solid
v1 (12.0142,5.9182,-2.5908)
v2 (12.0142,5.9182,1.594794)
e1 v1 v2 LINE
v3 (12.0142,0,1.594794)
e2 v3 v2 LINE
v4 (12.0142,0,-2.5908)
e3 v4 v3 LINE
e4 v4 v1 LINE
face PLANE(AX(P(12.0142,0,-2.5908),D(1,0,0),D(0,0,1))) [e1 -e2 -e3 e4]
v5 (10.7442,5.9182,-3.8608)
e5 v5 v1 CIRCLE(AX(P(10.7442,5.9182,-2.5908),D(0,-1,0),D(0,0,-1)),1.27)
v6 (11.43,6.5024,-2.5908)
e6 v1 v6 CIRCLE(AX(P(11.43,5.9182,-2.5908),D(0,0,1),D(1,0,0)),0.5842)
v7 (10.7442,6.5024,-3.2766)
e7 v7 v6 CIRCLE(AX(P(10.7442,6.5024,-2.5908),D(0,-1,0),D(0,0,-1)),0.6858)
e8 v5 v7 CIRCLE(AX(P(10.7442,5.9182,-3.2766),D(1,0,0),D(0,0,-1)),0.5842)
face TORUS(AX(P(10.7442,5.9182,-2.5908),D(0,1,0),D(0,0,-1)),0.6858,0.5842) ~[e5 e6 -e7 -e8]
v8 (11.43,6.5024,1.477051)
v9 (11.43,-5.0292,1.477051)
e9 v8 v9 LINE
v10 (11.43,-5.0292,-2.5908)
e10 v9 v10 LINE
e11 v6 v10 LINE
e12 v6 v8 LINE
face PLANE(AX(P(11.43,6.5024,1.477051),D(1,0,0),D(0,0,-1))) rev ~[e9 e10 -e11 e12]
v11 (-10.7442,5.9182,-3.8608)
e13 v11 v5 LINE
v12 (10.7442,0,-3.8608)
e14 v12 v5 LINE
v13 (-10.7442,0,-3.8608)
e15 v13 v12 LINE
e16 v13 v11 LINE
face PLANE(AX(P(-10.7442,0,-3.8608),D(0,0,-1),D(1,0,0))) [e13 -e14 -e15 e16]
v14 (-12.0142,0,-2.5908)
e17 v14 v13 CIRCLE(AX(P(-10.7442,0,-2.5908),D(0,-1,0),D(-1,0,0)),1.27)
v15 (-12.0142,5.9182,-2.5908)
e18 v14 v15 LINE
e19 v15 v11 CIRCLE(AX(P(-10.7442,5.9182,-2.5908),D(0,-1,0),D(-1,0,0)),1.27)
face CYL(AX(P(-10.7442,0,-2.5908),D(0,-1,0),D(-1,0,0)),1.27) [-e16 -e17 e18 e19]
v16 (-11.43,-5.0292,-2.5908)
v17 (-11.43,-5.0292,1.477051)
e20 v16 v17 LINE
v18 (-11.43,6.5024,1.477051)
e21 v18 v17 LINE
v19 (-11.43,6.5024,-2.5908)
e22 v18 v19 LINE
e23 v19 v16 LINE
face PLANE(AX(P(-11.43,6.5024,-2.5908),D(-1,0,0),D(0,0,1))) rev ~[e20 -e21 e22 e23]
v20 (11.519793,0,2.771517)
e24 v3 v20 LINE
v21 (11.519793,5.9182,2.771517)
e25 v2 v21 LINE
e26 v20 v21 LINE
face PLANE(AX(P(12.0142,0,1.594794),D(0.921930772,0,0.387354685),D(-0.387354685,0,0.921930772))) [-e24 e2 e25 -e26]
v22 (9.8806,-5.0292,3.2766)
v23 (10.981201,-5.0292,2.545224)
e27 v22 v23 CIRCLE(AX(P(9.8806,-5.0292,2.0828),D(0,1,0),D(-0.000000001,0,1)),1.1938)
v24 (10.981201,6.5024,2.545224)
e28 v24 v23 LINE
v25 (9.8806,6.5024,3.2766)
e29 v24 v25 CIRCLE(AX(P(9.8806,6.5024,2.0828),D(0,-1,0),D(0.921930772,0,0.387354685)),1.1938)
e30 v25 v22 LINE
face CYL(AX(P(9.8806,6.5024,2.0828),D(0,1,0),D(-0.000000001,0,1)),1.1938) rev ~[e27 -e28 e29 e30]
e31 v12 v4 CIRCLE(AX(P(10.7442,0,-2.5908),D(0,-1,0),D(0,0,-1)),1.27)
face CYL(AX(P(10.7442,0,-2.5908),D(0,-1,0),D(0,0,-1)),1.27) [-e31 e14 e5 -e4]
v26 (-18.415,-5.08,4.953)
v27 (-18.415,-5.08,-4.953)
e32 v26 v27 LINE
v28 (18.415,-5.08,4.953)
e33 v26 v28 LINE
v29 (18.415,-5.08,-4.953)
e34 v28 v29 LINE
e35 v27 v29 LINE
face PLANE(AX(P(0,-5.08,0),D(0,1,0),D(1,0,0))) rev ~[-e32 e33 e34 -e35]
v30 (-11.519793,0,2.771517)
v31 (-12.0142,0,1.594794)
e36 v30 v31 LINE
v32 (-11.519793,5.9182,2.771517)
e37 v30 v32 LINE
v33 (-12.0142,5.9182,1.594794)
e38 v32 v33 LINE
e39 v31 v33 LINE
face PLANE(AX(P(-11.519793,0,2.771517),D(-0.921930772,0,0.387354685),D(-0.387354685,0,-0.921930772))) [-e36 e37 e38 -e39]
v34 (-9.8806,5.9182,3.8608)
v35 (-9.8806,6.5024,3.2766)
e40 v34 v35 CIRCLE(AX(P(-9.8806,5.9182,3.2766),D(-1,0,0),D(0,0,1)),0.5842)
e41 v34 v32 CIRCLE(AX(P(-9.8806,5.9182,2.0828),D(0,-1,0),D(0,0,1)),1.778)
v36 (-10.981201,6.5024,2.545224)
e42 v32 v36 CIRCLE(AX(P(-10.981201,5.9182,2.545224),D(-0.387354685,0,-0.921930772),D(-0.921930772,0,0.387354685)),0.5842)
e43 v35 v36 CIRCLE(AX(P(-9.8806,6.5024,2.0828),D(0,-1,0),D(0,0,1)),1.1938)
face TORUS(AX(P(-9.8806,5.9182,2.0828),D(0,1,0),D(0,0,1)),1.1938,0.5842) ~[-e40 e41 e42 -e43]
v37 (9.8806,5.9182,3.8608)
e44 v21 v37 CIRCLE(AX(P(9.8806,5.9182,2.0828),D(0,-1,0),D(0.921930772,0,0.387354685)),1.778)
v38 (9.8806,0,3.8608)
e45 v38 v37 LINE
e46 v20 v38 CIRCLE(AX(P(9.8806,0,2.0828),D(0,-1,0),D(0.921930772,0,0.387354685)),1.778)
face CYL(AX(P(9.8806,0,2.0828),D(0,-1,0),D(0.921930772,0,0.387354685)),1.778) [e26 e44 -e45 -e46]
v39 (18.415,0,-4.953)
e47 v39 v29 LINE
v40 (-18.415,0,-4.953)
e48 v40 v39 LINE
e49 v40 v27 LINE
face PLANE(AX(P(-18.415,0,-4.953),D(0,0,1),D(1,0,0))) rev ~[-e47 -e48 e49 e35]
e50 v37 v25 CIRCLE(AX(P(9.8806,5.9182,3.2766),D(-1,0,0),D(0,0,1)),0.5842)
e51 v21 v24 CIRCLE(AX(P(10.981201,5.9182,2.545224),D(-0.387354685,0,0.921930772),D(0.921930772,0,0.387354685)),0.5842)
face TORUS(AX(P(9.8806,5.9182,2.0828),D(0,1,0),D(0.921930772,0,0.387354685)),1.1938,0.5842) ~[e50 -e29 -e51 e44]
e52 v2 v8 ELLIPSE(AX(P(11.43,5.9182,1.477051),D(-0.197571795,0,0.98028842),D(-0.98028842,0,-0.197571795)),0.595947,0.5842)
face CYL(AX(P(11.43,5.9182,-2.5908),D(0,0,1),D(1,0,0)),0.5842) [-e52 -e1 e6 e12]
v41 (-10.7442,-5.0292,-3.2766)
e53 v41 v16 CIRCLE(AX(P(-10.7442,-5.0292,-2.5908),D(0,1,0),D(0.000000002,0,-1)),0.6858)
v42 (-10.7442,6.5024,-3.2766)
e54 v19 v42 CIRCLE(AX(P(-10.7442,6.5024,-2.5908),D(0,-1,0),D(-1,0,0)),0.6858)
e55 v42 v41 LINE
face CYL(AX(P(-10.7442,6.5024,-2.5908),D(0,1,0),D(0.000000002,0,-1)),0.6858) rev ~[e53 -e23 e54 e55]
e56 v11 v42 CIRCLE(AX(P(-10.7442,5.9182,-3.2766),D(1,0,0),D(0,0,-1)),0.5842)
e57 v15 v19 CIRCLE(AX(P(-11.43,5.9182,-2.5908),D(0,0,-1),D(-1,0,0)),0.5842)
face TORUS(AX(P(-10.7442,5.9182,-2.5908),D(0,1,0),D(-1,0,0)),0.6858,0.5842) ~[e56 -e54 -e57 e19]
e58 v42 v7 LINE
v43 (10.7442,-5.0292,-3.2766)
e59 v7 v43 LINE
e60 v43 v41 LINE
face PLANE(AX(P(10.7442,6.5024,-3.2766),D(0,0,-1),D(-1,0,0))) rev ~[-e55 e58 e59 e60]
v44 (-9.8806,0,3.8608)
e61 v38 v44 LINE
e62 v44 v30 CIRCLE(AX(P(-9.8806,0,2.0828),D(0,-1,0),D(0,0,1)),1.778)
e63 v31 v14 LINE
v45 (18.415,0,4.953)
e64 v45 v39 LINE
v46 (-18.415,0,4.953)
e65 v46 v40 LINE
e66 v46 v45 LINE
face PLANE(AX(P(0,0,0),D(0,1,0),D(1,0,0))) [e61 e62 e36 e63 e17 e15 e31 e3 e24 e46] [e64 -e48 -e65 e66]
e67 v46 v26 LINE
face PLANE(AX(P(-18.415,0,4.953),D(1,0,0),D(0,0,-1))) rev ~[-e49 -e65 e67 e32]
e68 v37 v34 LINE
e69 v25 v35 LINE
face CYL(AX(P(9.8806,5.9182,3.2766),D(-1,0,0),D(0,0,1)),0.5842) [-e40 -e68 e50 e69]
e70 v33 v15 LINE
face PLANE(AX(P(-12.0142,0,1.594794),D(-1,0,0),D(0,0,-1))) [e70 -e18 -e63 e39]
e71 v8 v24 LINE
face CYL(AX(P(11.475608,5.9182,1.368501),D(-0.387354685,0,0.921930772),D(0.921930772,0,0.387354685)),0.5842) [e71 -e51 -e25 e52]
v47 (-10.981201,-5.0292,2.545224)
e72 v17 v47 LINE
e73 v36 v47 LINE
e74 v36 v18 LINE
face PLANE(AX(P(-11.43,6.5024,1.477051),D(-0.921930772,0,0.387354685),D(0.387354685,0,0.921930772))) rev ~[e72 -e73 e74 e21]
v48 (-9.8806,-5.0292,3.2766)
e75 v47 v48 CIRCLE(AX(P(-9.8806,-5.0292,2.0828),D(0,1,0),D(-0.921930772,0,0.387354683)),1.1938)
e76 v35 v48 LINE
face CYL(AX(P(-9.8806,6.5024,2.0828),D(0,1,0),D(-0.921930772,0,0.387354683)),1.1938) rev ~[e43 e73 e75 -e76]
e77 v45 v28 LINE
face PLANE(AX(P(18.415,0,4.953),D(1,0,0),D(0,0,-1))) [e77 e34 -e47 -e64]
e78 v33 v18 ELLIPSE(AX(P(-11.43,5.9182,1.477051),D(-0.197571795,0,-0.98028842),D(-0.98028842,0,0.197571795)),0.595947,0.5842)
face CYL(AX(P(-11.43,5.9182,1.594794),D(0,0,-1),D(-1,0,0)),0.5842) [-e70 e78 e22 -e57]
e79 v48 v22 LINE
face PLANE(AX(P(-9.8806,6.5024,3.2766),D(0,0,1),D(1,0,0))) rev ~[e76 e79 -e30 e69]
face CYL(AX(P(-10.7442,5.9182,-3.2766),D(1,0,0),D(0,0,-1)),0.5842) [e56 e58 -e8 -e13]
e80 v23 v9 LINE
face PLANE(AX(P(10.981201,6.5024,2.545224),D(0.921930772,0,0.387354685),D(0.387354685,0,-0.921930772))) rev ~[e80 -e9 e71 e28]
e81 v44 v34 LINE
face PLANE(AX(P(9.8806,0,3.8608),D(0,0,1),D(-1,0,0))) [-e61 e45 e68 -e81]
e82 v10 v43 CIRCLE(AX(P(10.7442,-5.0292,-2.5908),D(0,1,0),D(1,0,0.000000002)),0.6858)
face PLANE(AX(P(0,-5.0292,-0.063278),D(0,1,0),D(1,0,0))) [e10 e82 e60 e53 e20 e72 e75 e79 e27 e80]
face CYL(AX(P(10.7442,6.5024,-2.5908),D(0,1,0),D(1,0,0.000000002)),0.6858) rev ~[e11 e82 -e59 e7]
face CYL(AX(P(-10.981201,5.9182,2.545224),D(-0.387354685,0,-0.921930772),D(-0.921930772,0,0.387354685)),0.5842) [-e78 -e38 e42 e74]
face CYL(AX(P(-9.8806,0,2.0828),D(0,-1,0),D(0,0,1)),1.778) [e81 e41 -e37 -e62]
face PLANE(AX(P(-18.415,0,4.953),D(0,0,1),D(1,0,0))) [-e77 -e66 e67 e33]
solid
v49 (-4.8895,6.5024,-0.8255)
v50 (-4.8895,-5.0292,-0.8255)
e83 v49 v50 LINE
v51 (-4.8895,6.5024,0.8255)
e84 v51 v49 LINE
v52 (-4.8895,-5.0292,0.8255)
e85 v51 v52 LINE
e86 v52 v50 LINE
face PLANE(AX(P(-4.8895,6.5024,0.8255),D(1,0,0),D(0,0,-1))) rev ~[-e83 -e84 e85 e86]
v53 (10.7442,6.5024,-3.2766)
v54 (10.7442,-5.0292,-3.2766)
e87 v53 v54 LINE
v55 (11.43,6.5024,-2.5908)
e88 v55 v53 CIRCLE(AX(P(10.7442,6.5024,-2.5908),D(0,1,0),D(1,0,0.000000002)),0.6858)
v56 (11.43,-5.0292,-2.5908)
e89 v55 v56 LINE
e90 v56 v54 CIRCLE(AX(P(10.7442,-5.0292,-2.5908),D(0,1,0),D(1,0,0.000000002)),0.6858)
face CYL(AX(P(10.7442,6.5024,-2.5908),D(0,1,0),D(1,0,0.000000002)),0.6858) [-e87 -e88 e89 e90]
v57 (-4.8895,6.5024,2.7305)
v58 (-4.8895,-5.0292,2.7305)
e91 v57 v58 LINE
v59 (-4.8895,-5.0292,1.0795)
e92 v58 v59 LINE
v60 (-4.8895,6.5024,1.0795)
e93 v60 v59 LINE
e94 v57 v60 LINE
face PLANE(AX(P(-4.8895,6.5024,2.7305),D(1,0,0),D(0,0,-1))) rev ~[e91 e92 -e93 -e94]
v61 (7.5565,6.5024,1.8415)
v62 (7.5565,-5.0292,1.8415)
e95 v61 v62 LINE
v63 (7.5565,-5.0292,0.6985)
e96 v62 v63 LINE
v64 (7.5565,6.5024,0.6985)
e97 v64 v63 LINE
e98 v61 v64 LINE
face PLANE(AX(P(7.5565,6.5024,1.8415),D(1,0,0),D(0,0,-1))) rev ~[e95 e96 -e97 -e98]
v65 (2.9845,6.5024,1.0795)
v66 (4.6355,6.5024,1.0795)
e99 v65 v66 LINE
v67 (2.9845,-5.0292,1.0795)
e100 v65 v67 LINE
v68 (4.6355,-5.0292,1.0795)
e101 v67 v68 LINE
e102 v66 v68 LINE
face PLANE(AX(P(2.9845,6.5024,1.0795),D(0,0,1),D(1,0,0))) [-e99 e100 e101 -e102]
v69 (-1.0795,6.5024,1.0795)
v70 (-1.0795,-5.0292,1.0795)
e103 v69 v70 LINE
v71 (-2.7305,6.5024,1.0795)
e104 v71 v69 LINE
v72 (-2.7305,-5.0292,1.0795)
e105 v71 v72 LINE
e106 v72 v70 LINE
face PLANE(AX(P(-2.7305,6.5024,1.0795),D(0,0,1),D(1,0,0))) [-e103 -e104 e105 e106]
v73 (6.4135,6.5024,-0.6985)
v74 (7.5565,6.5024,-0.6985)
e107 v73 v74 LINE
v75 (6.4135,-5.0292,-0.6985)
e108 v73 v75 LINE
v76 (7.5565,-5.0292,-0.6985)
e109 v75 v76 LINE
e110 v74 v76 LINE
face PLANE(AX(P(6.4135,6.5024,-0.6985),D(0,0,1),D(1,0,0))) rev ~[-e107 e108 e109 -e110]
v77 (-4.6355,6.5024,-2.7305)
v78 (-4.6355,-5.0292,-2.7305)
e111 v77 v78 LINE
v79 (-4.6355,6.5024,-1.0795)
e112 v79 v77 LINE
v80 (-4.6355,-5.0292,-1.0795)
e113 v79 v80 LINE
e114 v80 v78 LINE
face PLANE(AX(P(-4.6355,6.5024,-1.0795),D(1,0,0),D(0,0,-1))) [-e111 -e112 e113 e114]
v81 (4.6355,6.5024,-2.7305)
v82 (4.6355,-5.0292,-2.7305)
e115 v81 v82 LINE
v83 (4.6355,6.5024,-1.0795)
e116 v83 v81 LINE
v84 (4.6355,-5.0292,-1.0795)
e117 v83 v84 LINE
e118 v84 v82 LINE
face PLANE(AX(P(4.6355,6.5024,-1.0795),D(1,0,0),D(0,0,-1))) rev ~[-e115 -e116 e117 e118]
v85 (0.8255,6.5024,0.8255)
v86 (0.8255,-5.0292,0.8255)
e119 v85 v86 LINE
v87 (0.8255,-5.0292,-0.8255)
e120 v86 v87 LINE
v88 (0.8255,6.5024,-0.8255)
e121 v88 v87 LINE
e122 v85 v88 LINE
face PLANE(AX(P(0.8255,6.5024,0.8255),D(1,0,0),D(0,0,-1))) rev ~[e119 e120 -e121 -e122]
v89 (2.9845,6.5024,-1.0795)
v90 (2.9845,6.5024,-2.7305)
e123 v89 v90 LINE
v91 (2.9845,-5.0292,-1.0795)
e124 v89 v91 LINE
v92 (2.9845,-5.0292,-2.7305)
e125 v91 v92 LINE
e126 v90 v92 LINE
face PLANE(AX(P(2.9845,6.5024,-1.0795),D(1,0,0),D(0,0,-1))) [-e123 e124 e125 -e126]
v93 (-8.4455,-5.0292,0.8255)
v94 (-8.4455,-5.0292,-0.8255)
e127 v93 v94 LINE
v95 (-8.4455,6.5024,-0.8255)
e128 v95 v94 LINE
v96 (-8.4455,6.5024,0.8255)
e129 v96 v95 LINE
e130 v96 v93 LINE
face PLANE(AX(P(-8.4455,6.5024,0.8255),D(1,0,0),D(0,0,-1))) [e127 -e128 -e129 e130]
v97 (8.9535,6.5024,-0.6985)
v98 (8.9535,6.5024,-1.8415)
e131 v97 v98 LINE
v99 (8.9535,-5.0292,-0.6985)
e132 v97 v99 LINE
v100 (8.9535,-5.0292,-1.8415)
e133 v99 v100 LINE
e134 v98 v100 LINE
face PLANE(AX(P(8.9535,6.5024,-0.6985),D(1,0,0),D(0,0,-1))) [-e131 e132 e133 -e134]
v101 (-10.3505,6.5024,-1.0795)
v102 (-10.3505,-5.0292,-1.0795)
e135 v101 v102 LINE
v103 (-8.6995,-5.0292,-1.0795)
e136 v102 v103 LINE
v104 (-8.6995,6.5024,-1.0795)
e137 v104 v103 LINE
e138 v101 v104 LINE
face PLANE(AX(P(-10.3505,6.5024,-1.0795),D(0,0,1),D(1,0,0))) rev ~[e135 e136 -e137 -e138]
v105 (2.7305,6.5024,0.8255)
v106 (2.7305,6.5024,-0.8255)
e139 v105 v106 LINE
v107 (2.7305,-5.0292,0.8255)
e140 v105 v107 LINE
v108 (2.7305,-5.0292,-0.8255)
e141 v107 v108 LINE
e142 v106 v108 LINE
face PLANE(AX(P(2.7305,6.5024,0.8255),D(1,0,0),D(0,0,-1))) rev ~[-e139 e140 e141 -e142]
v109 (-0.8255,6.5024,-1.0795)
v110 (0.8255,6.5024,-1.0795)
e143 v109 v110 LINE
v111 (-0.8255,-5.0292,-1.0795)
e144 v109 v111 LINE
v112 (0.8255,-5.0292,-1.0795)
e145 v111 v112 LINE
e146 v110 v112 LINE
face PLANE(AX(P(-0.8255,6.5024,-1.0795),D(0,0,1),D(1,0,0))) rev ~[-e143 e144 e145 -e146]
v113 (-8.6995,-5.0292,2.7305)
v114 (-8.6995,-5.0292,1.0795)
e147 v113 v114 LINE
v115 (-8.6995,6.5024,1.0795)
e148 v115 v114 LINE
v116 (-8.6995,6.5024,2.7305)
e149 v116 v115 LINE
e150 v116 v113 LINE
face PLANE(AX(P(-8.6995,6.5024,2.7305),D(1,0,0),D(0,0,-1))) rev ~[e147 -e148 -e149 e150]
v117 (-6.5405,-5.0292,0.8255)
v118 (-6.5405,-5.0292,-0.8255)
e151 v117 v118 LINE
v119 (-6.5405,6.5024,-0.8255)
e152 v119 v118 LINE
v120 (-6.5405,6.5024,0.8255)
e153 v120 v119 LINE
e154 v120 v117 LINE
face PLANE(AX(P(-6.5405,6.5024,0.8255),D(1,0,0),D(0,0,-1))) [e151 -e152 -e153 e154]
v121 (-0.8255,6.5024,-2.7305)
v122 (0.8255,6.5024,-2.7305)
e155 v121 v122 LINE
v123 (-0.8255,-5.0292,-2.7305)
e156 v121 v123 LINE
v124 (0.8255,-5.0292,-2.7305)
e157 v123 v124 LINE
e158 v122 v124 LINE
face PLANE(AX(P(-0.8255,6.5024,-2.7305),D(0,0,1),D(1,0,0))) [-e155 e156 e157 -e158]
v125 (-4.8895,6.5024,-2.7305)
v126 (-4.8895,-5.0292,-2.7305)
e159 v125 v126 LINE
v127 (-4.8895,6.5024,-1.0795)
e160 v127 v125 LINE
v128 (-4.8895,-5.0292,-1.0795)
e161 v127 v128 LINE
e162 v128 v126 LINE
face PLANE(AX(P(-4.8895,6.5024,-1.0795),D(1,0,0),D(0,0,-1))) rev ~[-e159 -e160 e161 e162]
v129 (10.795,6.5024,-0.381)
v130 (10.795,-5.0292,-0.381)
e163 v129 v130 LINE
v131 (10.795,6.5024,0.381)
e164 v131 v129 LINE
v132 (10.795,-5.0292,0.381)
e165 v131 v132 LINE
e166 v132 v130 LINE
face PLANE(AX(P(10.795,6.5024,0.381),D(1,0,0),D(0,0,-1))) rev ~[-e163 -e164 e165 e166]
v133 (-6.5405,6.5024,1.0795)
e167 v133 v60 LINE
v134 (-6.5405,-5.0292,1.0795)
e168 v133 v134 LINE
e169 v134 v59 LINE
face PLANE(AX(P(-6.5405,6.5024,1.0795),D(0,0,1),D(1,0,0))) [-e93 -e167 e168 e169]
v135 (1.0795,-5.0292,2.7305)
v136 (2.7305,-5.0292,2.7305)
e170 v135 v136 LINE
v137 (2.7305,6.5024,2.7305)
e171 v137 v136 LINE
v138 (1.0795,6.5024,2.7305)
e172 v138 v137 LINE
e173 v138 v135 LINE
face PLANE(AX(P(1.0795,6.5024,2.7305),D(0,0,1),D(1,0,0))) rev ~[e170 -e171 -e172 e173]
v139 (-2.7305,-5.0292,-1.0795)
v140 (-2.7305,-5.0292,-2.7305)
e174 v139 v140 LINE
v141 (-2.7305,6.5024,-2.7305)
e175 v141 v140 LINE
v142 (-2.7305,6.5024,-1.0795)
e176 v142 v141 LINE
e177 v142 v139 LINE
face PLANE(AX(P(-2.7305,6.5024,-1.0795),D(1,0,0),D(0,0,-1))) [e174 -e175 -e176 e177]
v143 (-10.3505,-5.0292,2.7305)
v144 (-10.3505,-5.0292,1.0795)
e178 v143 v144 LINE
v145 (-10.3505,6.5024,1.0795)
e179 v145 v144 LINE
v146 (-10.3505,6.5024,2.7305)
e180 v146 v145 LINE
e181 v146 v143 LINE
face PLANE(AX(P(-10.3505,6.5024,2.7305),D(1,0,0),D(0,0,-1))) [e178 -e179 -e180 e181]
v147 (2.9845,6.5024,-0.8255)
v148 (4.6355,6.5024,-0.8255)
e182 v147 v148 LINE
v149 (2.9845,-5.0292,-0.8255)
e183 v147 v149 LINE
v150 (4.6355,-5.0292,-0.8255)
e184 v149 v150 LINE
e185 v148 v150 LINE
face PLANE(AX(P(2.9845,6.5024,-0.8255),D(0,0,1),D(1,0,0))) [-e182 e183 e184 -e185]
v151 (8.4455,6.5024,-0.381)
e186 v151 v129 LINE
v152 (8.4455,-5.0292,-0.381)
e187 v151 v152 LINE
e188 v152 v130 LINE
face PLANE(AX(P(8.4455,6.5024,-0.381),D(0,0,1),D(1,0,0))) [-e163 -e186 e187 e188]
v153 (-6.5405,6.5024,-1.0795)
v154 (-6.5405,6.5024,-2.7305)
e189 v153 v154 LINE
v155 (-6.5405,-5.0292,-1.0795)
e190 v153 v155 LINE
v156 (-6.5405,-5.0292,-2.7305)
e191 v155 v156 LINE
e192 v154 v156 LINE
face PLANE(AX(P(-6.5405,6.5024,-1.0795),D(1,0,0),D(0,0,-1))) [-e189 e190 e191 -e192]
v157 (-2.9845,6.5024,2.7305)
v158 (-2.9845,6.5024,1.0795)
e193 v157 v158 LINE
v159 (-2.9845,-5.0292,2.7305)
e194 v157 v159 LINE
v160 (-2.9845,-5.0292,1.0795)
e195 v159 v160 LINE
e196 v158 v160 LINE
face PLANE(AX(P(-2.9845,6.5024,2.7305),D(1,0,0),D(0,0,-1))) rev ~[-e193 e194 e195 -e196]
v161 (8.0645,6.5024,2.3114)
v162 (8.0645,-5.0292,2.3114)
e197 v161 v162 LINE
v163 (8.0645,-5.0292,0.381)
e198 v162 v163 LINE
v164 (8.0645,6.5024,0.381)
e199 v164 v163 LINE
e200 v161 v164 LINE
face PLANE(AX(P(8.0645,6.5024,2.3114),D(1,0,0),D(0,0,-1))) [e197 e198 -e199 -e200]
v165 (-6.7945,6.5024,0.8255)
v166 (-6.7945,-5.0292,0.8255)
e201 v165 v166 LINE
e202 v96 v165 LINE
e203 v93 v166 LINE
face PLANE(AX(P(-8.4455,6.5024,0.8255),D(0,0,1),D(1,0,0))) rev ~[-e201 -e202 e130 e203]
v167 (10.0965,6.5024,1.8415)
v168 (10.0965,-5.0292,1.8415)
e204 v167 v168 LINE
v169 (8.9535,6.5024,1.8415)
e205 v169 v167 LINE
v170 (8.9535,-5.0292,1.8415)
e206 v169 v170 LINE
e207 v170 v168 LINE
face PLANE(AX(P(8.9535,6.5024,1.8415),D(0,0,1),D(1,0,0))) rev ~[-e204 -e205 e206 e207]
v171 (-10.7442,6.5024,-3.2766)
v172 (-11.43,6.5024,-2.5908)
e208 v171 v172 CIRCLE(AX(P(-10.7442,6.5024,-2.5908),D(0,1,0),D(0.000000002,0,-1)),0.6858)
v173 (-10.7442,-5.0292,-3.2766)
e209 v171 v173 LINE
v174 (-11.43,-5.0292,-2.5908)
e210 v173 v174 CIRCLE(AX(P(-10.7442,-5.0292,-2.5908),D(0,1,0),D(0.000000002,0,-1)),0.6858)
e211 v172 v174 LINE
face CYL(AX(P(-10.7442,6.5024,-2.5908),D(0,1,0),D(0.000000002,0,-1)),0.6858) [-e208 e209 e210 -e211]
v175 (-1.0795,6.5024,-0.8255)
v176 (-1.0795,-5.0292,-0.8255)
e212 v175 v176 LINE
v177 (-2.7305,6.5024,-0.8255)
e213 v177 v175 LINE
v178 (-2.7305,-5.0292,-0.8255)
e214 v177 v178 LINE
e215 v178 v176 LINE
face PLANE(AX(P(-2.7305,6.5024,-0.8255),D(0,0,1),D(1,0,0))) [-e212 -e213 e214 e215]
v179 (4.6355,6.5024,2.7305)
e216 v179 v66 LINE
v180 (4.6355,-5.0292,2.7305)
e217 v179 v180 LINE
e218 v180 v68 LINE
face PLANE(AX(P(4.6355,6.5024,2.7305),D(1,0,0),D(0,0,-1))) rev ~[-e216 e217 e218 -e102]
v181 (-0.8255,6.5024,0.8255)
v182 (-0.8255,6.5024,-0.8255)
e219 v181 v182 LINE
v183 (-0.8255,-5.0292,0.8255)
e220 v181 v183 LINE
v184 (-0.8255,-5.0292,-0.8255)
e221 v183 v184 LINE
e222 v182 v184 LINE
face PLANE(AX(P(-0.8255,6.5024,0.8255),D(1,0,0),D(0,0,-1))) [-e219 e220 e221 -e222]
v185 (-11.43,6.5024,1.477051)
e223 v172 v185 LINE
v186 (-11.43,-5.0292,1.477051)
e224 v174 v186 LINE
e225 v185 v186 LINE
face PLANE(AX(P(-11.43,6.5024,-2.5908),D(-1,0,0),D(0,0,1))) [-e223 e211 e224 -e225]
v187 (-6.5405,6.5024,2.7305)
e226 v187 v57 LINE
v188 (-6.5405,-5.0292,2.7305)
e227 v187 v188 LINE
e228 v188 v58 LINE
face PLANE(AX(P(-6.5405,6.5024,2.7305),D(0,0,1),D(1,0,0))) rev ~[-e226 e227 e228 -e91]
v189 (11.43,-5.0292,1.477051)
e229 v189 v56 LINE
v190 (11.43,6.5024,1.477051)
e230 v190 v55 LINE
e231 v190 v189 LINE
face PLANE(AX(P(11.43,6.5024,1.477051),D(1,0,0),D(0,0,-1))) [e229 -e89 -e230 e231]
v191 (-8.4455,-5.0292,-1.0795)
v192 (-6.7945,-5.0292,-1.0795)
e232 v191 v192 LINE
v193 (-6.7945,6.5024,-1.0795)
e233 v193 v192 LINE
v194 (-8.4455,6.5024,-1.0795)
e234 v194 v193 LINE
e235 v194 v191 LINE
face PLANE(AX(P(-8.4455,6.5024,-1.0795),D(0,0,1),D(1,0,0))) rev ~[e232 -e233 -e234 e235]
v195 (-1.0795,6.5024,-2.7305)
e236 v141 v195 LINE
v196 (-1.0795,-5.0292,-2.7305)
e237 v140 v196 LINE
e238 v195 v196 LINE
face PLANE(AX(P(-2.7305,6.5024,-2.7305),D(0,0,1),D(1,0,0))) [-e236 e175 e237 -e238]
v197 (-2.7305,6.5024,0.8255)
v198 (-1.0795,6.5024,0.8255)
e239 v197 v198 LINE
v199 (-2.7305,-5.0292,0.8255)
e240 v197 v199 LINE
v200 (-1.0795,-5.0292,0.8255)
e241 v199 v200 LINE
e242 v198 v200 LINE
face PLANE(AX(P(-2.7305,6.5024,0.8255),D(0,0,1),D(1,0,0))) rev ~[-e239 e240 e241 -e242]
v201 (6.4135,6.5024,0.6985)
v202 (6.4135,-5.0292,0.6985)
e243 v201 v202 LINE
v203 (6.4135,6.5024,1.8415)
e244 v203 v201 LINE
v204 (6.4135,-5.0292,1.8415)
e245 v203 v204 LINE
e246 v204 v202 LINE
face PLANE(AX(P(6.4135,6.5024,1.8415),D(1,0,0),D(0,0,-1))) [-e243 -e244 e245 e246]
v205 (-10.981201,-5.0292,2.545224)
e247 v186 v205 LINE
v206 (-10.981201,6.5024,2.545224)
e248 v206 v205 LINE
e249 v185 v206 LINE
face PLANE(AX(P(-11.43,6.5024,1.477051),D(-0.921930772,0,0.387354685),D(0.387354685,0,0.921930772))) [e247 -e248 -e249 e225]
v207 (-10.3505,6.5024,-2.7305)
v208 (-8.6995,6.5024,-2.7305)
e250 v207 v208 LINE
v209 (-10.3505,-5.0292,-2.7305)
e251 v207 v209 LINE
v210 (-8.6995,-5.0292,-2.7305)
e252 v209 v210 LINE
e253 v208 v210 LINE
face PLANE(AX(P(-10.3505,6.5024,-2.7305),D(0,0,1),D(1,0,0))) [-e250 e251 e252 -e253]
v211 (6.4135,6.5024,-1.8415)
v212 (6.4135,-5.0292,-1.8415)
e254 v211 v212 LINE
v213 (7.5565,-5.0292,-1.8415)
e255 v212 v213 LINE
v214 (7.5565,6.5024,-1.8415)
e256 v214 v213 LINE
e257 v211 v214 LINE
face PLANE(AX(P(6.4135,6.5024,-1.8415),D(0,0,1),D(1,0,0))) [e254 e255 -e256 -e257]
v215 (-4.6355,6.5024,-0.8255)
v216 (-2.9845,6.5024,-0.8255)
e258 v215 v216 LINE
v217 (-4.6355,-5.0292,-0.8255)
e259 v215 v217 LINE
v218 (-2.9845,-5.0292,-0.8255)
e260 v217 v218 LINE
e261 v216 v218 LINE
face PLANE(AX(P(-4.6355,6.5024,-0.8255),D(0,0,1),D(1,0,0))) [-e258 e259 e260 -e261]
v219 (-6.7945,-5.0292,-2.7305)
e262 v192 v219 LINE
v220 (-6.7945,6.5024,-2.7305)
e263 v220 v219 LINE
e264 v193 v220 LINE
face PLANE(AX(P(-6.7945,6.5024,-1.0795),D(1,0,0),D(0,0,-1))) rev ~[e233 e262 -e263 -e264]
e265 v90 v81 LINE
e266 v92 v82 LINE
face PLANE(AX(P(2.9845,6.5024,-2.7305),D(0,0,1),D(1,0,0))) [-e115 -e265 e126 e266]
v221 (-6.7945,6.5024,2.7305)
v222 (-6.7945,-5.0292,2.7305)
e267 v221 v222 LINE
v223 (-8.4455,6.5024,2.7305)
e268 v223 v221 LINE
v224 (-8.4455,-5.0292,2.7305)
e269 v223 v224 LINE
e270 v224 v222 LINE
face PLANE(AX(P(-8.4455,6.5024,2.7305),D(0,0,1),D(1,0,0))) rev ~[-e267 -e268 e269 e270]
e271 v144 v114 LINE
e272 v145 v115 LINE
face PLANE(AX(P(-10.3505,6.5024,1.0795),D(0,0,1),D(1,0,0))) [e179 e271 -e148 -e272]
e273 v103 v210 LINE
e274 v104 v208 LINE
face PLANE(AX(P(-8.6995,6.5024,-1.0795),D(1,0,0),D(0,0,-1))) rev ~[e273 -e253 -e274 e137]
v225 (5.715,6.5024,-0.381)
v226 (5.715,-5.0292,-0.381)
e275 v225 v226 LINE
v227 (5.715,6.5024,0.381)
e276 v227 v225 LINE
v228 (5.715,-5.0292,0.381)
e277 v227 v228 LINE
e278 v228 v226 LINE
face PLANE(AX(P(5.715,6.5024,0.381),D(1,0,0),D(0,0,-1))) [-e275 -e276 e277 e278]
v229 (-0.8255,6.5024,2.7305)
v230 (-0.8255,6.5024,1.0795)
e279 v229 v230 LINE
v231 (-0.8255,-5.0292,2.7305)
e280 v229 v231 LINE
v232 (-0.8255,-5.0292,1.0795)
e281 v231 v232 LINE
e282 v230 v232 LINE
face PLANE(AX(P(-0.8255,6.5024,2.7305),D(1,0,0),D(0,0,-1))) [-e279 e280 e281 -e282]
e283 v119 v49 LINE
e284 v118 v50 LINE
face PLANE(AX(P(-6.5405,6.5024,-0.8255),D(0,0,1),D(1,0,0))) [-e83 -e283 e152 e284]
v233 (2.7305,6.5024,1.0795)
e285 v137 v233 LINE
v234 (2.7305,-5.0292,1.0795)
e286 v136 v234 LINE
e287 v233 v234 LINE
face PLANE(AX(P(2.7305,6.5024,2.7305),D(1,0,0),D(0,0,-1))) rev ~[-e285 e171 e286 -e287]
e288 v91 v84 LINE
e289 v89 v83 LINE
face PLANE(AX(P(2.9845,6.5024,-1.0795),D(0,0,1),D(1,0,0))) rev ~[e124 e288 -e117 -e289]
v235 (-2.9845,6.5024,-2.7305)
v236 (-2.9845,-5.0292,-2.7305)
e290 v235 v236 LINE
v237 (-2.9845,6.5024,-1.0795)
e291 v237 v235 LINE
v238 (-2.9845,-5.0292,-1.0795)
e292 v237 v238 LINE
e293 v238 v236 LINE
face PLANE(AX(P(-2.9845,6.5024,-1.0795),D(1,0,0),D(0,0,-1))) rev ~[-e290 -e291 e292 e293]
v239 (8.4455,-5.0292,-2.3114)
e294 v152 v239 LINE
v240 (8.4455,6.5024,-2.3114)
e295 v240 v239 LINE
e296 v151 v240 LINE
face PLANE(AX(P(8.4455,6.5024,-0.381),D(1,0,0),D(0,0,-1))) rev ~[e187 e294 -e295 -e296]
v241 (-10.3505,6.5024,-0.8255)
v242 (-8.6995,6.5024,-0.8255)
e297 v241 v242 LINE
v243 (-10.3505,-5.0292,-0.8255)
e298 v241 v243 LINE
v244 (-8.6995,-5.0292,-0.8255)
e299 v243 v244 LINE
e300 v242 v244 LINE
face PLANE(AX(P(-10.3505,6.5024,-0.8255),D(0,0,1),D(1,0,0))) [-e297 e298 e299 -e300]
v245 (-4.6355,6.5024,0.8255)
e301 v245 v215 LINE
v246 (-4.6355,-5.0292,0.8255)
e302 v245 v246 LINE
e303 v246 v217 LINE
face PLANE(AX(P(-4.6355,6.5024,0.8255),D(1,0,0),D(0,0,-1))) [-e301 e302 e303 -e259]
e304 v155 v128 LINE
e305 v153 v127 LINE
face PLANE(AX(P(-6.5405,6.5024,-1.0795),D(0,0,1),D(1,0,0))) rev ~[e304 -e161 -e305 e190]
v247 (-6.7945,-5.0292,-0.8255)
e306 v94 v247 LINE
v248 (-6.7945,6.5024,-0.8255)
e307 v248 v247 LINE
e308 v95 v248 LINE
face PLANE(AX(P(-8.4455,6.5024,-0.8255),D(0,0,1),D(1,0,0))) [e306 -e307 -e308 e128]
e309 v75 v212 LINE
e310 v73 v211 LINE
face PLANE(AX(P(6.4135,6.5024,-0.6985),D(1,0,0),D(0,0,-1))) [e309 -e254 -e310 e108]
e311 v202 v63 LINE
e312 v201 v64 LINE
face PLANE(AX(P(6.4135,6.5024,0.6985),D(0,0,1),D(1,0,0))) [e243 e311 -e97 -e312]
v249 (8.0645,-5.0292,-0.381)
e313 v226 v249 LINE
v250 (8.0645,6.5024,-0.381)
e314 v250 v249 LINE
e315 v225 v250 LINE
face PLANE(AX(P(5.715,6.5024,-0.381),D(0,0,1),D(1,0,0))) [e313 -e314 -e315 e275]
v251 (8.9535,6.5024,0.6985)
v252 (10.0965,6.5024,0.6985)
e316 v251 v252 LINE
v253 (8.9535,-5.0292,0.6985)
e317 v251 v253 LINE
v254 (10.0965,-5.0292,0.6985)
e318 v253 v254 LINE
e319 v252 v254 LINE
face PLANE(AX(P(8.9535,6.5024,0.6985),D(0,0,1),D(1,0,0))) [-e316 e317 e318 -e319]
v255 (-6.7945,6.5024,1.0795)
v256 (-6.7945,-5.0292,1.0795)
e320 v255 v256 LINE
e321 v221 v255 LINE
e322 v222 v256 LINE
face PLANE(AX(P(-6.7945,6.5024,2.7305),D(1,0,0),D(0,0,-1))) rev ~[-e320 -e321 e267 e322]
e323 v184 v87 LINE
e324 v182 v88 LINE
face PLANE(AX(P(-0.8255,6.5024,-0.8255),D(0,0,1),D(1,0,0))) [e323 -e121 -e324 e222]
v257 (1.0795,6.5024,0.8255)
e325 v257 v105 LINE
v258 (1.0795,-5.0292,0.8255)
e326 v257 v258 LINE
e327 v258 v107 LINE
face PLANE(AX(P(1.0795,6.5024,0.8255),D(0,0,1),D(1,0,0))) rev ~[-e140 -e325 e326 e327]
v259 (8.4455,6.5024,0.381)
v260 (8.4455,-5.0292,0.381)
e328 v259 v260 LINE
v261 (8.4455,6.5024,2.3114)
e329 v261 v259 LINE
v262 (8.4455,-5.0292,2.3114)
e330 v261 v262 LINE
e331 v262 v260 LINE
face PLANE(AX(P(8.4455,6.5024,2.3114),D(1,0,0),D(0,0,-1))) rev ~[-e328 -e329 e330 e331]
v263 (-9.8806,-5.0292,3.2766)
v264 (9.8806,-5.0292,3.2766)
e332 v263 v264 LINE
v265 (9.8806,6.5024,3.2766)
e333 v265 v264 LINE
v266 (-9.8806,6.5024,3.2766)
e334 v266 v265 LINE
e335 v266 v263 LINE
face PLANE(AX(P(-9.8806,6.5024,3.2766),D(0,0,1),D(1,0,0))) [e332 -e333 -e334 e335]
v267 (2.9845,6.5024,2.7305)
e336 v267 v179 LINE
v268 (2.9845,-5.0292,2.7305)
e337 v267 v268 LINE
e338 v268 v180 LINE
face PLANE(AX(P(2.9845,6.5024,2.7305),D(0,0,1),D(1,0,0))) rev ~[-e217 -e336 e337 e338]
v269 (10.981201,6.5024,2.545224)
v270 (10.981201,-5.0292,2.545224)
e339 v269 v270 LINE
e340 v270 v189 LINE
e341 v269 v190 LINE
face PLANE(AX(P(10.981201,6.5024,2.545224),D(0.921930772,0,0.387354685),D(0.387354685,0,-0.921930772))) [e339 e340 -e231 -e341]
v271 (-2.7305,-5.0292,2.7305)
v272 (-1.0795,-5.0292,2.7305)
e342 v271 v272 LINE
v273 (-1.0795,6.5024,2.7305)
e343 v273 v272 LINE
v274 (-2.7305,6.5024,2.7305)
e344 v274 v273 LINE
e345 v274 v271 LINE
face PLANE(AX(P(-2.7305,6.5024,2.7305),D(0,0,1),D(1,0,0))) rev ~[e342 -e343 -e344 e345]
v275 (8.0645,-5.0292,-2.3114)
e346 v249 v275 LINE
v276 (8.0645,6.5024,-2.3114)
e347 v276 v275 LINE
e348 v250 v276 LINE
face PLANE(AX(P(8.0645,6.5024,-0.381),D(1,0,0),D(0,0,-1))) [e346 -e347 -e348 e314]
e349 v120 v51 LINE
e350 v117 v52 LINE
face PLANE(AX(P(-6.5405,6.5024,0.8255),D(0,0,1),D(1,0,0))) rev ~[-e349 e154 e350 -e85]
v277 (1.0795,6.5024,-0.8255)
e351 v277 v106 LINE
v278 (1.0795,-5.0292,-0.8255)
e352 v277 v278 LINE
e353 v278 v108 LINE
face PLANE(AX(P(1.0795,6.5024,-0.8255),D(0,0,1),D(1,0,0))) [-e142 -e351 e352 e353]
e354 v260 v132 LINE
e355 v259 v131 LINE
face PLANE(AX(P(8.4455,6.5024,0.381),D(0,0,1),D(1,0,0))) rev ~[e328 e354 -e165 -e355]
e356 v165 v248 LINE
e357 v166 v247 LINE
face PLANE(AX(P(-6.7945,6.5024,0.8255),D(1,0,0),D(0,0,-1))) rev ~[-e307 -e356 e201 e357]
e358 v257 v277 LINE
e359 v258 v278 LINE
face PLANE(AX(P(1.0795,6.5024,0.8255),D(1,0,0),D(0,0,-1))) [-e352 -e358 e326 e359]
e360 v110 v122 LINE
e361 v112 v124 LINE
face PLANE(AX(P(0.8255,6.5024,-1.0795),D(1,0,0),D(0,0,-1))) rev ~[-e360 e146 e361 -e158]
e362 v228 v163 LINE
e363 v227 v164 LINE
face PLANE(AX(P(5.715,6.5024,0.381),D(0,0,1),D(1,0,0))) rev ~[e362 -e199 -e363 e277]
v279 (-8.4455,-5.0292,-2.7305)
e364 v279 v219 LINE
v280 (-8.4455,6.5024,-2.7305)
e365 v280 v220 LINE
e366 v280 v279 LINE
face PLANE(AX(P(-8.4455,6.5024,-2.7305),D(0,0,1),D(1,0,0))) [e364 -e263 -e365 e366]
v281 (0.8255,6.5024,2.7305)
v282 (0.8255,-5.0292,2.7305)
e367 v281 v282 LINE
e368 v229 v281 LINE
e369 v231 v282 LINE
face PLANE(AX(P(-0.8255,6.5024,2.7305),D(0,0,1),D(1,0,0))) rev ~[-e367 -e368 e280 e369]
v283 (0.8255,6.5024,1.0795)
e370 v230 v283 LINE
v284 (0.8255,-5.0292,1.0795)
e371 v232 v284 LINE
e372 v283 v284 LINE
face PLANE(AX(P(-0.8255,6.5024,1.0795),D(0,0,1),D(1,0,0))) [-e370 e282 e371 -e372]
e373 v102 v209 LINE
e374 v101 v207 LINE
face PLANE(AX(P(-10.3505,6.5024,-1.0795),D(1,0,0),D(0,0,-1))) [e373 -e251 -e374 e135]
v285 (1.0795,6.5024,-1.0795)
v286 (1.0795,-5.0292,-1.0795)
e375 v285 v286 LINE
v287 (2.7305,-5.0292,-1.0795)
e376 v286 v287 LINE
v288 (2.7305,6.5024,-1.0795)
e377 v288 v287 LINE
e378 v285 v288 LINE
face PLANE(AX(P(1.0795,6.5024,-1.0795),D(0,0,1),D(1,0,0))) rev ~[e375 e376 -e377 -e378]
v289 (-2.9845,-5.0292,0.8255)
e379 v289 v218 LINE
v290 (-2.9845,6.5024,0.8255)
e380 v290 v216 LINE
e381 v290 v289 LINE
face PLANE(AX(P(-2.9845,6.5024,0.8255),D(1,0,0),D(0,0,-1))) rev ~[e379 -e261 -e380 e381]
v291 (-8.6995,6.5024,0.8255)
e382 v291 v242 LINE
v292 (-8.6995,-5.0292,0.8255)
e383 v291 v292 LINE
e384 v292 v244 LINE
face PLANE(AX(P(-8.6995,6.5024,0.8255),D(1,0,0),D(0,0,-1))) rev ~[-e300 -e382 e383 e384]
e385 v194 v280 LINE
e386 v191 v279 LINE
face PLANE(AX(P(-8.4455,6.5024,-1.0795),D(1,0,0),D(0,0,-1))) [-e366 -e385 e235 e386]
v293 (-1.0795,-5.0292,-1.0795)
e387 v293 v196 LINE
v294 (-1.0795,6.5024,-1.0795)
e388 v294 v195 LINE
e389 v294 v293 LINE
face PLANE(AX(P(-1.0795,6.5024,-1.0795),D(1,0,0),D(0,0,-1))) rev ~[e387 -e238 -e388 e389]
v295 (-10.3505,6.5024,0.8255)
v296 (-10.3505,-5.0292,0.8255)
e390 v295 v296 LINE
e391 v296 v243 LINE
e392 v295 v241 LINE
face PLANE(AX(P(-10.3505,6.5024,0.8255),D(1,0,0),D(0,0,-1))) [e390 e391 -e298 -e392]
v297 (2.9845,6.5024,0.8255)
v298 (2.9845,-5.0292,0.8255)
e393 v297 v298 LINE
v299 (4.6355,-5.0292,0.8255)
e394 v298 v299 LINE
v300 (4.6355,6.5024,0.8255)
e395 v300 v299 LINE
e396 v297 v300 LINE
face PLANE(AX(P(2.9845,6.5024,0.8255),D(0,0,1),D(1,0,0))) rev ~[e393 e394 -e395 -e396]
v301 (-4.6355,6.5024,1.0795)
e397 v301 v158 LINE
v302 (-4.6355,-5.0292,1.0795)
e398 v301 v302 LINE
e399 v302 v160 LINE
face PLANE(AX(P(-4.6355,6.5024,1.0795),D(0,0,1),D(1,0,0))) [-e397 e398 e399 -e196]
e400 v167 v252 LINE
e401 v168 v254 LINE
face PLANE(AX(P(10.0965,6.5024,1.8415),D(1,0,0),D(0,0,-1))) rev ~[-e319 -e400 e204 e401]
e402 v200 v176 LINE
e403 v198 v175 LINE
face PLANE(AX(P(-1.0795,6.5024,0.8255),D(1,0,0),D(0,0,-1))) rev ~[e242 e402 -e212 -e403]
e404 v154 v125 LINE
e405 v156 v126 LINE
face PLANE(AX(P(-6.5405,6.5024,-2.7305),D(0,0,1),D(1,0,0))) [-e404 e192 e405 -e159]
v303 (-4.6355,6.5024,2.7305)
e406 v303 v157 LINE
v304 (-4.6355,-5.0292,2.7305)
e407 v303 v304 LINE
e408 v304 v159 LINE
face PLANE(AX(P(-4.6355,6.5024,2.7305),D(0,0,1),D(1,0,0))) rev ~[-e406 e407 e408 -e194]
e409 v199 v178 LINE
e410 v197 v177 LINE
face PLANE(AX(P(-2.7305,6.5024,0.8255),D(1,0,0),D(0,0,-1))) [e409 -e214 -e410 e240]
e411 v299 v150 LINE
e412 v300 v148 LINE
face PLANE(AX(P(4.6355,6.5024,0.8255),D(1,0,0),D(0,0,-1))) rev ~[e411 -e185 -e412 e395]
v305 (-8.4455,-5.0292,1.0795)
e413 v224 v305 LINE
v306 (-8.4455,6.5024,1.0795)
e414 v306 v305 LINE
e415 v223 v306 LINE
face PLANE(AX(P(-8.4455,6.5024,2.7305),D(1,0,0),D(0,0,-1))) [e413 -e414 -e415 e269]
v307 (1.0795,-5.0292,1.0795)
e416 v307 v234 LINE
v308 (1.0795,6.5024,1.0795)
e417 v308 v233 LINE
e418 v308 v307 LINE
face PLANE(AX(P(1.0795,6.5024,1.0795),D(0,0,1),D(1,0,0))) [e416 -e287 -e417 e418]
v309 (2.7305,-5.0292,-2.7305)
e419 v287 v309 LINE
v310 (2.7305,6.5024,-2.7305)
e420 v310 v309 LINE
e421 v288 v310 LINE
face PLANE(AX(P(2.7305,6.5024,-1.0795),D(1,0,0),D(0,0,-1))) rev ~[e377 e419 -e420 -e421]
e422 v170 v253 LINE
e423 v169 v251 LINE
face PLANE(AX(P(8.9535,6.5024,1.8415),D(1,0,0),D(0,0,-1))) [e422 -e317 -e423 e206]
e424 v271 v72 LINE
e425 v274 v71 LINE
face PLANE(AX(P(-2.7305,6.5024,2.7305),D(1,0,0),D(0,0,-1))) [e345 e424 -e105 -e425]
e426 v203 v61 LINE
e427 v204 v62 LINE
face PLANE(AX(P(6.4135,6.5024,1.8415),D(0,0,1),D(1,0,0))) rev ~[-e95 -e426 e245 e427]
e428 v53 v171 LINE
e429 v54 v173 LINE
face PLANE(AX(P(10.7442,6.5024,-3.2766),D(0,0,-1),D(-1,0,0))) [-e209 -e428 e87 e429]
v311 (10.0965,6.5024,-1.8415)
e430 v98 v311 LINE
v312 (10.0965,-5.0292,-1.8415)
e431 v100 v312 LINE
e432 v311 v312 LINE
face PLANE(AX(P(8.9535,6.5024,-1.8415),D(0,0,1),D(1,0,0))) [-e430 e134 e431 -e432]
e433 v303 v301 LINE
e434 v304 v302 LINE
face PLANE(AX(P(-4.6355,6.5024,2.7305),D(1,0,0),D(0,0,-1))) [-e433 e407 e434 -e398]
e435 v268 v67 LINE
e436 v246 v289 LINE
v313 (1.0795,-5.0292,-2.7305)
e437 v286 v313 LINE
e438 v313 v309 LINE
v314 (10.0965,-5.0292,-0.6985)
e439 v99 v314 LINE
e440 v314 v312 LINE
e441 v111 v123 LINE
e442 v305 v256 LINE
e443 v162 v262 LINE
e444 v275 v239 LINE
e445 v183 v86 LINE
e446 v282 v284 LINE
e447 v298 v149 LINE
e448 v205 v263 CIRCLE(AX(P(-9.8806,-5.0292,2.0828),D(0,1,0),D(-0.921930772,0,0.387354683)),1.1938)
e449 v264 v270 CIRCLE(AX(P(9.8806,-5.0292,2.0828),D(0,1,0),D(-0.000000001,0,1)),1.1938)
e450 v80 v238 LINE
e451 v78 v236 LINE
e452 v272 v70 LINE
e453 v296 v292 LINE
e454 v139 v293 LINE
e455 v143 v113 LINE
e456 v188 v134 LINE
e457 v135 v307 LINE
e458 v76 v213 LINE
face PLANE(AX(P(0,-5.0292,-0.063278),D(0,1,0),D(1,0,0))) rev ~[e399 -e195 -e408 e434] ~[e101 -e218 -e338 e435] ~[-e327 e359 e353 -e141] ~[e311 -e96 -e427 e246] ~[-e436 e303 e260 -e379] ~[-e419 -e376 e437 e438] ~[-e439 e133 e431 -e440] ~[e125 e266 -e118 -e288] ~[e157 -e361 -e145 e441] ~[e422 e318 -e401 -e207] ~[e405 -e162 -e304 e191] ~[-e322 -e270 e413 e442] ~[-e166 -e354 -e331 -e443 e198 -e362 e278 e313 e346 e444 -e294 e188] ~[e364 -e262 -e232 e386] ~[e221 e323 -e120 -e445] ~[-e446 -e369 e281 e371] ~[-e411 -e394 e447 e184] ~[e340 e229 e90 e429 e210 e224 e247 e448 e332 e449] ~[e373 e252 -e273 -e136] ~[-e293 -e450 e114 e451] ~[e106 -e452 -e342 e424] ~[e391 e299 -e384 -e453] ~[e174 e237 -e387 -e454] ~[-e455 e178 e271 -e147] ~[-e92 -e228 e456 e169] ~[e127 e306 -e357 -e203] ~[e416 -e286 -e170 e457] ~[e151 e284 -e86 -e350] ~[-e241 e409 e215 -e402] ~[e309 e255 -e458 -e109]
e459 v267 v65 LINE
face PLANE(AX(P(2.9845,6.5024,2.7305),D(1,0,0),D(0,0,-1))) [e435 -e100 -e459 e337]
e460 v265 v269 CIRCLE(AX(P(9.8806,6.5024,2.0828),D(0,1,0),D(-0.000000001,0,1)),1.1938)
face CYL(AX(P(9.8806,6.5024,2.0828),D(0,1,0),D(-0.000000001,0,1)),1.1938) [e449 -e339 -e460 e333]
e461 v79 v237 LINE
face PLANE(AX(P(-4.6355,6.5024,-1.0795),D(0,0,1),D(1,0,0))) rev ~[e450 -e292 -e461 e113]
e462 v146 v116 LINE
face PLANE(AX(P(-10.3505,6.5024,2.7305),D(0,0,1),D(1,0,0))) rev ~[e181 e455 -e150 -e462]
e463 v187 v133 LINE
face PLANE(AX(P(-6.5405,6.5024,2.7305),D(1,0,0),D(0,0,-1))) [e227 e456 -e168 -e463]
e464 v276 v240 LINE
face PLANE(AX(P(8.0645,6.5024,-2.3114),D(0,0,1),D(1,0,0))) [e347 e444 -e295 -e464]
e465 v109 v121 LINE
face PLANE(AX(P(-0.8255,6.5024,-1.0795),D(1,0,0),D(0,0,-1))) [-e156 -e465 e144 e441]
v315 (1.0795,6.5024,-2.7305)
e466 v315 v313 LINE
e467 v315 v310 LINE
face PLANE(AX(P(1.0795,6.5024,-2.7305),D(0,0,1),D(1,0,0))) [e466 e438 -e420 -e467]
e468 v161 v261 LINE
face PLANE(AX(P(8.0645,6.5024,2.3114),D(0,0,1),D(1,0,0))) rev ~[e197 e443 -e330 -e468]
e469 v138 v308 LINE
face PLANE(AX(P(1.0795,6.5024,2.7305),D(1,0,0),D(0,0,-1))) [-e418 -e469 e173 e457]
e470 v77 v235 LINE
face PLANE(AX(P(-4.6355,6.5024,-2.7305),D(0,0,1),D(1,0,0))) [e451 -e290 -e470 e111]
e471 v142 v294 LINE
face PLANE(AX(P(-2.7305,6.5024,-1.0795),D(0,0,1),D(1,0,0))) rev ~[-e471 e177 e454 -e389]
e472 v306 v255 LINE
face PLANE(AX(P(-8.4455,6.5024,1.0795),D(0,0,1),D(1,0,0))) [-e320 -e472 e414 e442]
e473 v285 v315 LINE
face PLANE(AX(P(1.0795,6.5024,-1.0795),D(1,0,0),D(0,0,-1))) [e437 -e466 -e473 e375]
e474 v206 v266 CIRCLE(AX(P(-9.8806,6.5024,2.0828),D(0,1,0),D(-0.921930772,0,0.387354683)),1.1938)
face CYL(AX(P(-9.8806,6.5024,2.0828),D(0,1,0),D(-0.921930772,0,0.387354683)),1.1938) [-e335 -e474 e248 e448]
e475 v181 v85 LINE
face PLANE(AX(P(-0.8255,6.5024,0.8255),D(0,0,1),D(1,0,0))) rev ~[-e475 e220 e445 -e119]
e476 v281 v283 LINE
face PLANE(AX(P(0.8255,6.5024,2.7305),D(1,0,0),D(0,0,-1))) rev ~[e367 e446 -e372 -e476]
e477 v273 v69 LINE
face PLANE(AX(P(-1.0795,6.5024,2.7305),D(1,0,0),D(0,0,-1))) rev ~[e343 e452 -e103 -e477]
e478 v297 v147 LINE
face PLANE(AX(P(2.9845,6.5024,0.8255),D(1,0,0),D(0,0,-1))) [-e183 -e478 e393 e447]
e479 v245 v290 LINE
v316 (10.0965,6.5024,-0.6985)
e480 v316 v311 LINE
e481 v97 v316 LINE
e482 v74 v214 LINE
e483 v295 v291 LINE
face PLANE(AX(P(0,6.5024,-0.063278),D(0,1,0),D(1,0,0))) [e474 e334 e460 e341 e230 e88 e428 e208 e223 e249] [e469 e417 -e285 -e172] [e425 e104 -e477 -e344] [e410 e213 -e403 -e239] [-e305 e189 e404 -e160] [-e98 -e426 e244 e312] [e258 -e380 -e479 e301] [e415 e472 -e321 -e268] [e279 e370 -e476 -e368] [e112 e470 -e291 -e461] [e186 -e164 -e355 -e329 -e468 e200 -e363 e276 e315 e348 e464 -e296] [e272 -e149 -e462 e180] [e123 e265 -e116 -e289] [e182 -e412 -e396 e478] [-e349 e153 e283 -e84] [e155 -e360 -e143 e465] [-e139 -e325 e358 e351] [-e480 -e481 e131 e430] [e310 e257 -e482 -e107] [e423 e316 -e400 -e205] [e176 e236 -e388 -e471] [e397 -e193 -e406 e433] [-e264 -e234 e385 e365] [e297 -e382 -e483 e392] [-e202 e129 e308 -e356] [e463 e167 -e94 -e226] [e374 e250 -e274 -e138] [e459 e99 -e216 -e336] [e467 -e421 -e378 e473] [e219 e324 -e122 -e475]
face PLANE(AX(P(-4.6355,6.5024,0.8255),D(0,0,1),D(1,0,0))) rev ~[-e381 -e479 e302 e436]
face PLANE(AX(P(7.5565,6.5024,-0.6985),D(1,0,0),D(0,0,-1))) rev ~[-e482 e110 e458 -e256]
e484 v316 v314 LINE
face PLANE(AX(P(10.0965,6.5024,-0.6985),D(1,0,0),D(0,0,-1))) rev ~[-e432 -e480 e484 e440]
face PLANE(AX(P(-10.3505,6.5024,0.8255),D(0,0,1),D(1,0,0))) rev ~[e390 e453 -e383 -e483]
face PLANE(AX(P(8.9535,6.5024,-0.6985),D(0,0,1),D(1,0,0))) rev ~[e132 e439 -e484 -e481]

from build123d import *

# Parameters (mm, degrees)
SKETCH1_W            = 36.83
SKETCH1_H            = 9.906
BOSS_EXTRUDE1_DEPTH  = 5.08
BOSS_EXTRUDE2_DEPTH  = 6.5024
FILLET1_R            = 0.5842
CUT_EXTRUDE2_DEPTH   = 11.5316
BOSS_EXTRUDE3_DEPTH  = 11.5316
CUT_EXTRUDE1_START   = 6.5024
SKETCH2_3_W          = 1.651
SKETCH2_3_H          = 1.651
CUT_EXTRUDE1_DEPTH   = 11.5316
LPATTERN1_COUNT      = 8
LPATTERN1_PITCH      = 1.905
LPATTERN1_COUNT_DIR2 = 3
LPATTERN1_PITCH_DIR2 = 1.905
CUT_EXTRUDE3_START   = 6.5024
SKETCH2_4_W          = 1.143
SKETCH2_4_H          = 1.143
SKETCH2_4_W_2        = 5.08
SKETCH2_4_H_2        = 0.762
SKETCH2_4_W_3        = 0.381
SKETCH2_4_H_3        = 4.6228
CUT_EXTRUDE3_DEPTH   = 11.5316


with BuildPart() as part:
    # Sketch1 → Boss-Extrude1 (new body)
    with BuildSketch(Plane(origin=(0, 0, 0), x_dir=(1, 0, 0), z_dir=(0, 1, 0))):
        Rectangle(SKETCH1_W, SKETCH1_H)
    extrude(amount=-BOSS_EXTRUDE1_DEPTH)

    # Sketch2 → Boss-Extrude2 (add)
    with BuildSketch(Plane(origin=(0, 0, 0), x_dir=(1, 0, 0), z_dir=(0, 1, 0))):
        with BuildLine():
            Line((-10.7442, 3.8608), (10.7442, 3.8608))
            ThreePointArc((10.7442, 3.8608), (11.642225612, 3.488825612), (12.0142, 2.5908))
            Line((12.0142, 2.5908), (12.0142, -1.594793783))
            Line((12.0142, -1.594793783), (11.519792912, -2.77151663))
            ThreePointArc((11.519792912, -2.77151663), (10.864659407, -3.563648096), (9.8806, -3.8608))
            Line((9.8806, -3.8608), (-9.8806, -3.8608))
            ThreePointArc((-9.8806, -3.8608), (-10.864659407, -3.563648096), (-11.519792912, -2.77151663))
            Line((-11.519792912, -2.77151663), (-12.0142, -1.594793783))
            Line((-12.0142, -1.594793783), (-12.0142, 2.5908))
            ThreePointArc((-12.0142, 2.5908), (-11.642225612, 3.488825612), (-10.7442, 3.8608))
        make_face()
    extrude(amount=BOSS_EXTRUDE2_DEPTH)

    # Fillet1
    fillet1_edges = [part.edges().sort_by_distance(p)[0] for p in [
        (10.864659407, 6.5024, 3.563648096),
        (12.0142, 6.5024, -0.498003109),
        (11.642225612, 6.5024, -3.488825612),
        (0, 6.5024, -3.8608),
        (-11.766996456, 6.5024, 2.183155206),
        (-10.864659407, 6.5024, 3.563648096),
        (0, 6.5024, 3.8608),
        (11.766996456, 6.5024, 2.183155206),
        (-11.642225612, 6.5024, -3.488825612),
        (-12.0142, 6.5024, -0.498003109),
    ]]
    fillet(fillet1_edges, radius=FILLET1_R)

    # Sketch3 → Cut-Extrude2 (cut)
    with BuildSketch(Plane(origin=(0, 6.5024, 0), x_dir=(1, 0, 0), z_dir=(0, 1, 0))):
        with BuildLine():
            Line((-11.43, 2.5908), (-11.43, -1.477051453))
            Line((-11.43, -1.477051453), (-10.981200955, -2.545224023))
            ThreePointArc((-10.981200955, -2.545224023), (-10.541325602, -3.077083722), (-9.8806, -3.2766))
            Line((-9.8806, -3.2766), (9.8806, -3.2766))
            ThreePointArc((9.8806, -3.2766), (10.541325602, -3.077083722), (10.981200955, -2.545224023))
            Line((10.981200955, -2.545224023), (11.43, -1.477051453))
            Line((11.43, -1.477051453), (11.43, 2.5908))
            ThreePointArc((11.43, 2.5908), (11.229133831, 3.075733831), (10.7442, 3.2766))
            Line((10.7442, 3.2766), (-10.7442, 3.2766))
            ThreePointArc((-10.7442, 3.2766), (-11.229133831, 3.075733831), (-11.43, 2.5908))
        make_face()
    extrude(amount=-CUT_EXTRUDE2_DEPTH, mode=Mode.SUBTRACT)


with BuildPart() as body_2:
    # Sketch3<2> → Boss-Extrude3 (new body)
    with BuildSketch(Plane(origin=(0, 6.5024, 0), x_dir=(1, 0, 0), z_dir=(0, 1, 0))):
        with BuildLine():
            Line((-11.43, 2.5908), (-11.43, -1.477051453))
            Line((-11.43, -1.477051453), (-10.981200955, -2.545224023))
            ThreePointArc((-10.981200955, -2.545224023), (-10.541325602, -3.077083722), (-9.8806, -3.2766))
            Line((-9.8806, -3.2766), (9.8806, -3.2766))
            ThreePointArc((9.8806, -3.2766), (10.541325602, -3.077083722), (10.981200955, -2.545224023))
            Line((10.981200955, -2.545224023), (11.43, -1.477051453))
            Line((11.43, -1.477051453), (11.43, 2.5908))
            ThreePointArc((11.43, 2.5908), (11.229133831, 3.075733831), (10.7442, 3.2766))
            Line((10.7442, 3.2766), (-10.7442, 3.2766))
            ThreePointArc((-10.7442, 3.2766), (-11.229133831, 3.075733831), (-11.43, 2.5908))
        make_face()
    extrude(amount=-BOSS_EXTRUDE3_DEPTH)

    # Sketch2<3> → Cut-Extrude1 (cut)
    with BuildSketch(Plane(origin=(0, 0, 0), x_dir=(1, 0, 0), z_dir=(0, 1, 0)).offset(CUT_EXTRUDE1_START)):
        with Locations((-9.525, 1.905)):
            Rectangle(SKETCH2_3_W, SKETCH2_3_H)
    cut_extrude1 = extrude(amount=-CUT_EXTRUDE1_DEPTH, mode=Mode.SUBTRACT)

    # LPattern1: Cut-Extrude1 8 × 3
    with Locations(*[(i * LPATTERN1_PITCH, 0, j * LPATTERN1_PITCH_DIR2) for i in range(LPATTERN1_COUNT) for j in range(LPATTERN1_COUNT_DIR2) if (i, j) != (0, 0)]):
        add(cut_extrude1, mode=Mode.SUBTRACT)

    # Sketch2<4> → Cut-Extrude3 (cut)
    with BuildSketch(Plane(origin=(0, 0, 0), x_dir=(1, 0, 0), z_dir=(0, 1, 0)).offset(CUT_EXTRUDE3_START)):
        with Locations((9.525, -1.27)):
            Rectangle(SKETCH2_4_W, SKETCH2_4_H)
        with Locations((9.525, 1.27)):
            Rectangle(SKETCH2_4_W, SKETCH2_4_H)
        with Locations((6.985, -1.27)):
            Rectangle(SKETCH2_4_W, SKETCH2_4_H)
        with Locations((6.985, 1.27)):
            Rectangle(SKETCH2_4_W, SKETCH2_4_H)
        with Locations((8.255, 0)):
            Rectangle(SKETCH2_4_W_2, SKETCH2_4_H_2)
        with Locations((8.255, 0)):
            Rectangle(SKETCH2_4_W_3, SKETCH2_4_H_3)
    extrude(amount=-CUT_EXTRUDE3_DEPTH, mode=Mode.SUBTRACT)


solid = Compound([part.part, body_2.part])
